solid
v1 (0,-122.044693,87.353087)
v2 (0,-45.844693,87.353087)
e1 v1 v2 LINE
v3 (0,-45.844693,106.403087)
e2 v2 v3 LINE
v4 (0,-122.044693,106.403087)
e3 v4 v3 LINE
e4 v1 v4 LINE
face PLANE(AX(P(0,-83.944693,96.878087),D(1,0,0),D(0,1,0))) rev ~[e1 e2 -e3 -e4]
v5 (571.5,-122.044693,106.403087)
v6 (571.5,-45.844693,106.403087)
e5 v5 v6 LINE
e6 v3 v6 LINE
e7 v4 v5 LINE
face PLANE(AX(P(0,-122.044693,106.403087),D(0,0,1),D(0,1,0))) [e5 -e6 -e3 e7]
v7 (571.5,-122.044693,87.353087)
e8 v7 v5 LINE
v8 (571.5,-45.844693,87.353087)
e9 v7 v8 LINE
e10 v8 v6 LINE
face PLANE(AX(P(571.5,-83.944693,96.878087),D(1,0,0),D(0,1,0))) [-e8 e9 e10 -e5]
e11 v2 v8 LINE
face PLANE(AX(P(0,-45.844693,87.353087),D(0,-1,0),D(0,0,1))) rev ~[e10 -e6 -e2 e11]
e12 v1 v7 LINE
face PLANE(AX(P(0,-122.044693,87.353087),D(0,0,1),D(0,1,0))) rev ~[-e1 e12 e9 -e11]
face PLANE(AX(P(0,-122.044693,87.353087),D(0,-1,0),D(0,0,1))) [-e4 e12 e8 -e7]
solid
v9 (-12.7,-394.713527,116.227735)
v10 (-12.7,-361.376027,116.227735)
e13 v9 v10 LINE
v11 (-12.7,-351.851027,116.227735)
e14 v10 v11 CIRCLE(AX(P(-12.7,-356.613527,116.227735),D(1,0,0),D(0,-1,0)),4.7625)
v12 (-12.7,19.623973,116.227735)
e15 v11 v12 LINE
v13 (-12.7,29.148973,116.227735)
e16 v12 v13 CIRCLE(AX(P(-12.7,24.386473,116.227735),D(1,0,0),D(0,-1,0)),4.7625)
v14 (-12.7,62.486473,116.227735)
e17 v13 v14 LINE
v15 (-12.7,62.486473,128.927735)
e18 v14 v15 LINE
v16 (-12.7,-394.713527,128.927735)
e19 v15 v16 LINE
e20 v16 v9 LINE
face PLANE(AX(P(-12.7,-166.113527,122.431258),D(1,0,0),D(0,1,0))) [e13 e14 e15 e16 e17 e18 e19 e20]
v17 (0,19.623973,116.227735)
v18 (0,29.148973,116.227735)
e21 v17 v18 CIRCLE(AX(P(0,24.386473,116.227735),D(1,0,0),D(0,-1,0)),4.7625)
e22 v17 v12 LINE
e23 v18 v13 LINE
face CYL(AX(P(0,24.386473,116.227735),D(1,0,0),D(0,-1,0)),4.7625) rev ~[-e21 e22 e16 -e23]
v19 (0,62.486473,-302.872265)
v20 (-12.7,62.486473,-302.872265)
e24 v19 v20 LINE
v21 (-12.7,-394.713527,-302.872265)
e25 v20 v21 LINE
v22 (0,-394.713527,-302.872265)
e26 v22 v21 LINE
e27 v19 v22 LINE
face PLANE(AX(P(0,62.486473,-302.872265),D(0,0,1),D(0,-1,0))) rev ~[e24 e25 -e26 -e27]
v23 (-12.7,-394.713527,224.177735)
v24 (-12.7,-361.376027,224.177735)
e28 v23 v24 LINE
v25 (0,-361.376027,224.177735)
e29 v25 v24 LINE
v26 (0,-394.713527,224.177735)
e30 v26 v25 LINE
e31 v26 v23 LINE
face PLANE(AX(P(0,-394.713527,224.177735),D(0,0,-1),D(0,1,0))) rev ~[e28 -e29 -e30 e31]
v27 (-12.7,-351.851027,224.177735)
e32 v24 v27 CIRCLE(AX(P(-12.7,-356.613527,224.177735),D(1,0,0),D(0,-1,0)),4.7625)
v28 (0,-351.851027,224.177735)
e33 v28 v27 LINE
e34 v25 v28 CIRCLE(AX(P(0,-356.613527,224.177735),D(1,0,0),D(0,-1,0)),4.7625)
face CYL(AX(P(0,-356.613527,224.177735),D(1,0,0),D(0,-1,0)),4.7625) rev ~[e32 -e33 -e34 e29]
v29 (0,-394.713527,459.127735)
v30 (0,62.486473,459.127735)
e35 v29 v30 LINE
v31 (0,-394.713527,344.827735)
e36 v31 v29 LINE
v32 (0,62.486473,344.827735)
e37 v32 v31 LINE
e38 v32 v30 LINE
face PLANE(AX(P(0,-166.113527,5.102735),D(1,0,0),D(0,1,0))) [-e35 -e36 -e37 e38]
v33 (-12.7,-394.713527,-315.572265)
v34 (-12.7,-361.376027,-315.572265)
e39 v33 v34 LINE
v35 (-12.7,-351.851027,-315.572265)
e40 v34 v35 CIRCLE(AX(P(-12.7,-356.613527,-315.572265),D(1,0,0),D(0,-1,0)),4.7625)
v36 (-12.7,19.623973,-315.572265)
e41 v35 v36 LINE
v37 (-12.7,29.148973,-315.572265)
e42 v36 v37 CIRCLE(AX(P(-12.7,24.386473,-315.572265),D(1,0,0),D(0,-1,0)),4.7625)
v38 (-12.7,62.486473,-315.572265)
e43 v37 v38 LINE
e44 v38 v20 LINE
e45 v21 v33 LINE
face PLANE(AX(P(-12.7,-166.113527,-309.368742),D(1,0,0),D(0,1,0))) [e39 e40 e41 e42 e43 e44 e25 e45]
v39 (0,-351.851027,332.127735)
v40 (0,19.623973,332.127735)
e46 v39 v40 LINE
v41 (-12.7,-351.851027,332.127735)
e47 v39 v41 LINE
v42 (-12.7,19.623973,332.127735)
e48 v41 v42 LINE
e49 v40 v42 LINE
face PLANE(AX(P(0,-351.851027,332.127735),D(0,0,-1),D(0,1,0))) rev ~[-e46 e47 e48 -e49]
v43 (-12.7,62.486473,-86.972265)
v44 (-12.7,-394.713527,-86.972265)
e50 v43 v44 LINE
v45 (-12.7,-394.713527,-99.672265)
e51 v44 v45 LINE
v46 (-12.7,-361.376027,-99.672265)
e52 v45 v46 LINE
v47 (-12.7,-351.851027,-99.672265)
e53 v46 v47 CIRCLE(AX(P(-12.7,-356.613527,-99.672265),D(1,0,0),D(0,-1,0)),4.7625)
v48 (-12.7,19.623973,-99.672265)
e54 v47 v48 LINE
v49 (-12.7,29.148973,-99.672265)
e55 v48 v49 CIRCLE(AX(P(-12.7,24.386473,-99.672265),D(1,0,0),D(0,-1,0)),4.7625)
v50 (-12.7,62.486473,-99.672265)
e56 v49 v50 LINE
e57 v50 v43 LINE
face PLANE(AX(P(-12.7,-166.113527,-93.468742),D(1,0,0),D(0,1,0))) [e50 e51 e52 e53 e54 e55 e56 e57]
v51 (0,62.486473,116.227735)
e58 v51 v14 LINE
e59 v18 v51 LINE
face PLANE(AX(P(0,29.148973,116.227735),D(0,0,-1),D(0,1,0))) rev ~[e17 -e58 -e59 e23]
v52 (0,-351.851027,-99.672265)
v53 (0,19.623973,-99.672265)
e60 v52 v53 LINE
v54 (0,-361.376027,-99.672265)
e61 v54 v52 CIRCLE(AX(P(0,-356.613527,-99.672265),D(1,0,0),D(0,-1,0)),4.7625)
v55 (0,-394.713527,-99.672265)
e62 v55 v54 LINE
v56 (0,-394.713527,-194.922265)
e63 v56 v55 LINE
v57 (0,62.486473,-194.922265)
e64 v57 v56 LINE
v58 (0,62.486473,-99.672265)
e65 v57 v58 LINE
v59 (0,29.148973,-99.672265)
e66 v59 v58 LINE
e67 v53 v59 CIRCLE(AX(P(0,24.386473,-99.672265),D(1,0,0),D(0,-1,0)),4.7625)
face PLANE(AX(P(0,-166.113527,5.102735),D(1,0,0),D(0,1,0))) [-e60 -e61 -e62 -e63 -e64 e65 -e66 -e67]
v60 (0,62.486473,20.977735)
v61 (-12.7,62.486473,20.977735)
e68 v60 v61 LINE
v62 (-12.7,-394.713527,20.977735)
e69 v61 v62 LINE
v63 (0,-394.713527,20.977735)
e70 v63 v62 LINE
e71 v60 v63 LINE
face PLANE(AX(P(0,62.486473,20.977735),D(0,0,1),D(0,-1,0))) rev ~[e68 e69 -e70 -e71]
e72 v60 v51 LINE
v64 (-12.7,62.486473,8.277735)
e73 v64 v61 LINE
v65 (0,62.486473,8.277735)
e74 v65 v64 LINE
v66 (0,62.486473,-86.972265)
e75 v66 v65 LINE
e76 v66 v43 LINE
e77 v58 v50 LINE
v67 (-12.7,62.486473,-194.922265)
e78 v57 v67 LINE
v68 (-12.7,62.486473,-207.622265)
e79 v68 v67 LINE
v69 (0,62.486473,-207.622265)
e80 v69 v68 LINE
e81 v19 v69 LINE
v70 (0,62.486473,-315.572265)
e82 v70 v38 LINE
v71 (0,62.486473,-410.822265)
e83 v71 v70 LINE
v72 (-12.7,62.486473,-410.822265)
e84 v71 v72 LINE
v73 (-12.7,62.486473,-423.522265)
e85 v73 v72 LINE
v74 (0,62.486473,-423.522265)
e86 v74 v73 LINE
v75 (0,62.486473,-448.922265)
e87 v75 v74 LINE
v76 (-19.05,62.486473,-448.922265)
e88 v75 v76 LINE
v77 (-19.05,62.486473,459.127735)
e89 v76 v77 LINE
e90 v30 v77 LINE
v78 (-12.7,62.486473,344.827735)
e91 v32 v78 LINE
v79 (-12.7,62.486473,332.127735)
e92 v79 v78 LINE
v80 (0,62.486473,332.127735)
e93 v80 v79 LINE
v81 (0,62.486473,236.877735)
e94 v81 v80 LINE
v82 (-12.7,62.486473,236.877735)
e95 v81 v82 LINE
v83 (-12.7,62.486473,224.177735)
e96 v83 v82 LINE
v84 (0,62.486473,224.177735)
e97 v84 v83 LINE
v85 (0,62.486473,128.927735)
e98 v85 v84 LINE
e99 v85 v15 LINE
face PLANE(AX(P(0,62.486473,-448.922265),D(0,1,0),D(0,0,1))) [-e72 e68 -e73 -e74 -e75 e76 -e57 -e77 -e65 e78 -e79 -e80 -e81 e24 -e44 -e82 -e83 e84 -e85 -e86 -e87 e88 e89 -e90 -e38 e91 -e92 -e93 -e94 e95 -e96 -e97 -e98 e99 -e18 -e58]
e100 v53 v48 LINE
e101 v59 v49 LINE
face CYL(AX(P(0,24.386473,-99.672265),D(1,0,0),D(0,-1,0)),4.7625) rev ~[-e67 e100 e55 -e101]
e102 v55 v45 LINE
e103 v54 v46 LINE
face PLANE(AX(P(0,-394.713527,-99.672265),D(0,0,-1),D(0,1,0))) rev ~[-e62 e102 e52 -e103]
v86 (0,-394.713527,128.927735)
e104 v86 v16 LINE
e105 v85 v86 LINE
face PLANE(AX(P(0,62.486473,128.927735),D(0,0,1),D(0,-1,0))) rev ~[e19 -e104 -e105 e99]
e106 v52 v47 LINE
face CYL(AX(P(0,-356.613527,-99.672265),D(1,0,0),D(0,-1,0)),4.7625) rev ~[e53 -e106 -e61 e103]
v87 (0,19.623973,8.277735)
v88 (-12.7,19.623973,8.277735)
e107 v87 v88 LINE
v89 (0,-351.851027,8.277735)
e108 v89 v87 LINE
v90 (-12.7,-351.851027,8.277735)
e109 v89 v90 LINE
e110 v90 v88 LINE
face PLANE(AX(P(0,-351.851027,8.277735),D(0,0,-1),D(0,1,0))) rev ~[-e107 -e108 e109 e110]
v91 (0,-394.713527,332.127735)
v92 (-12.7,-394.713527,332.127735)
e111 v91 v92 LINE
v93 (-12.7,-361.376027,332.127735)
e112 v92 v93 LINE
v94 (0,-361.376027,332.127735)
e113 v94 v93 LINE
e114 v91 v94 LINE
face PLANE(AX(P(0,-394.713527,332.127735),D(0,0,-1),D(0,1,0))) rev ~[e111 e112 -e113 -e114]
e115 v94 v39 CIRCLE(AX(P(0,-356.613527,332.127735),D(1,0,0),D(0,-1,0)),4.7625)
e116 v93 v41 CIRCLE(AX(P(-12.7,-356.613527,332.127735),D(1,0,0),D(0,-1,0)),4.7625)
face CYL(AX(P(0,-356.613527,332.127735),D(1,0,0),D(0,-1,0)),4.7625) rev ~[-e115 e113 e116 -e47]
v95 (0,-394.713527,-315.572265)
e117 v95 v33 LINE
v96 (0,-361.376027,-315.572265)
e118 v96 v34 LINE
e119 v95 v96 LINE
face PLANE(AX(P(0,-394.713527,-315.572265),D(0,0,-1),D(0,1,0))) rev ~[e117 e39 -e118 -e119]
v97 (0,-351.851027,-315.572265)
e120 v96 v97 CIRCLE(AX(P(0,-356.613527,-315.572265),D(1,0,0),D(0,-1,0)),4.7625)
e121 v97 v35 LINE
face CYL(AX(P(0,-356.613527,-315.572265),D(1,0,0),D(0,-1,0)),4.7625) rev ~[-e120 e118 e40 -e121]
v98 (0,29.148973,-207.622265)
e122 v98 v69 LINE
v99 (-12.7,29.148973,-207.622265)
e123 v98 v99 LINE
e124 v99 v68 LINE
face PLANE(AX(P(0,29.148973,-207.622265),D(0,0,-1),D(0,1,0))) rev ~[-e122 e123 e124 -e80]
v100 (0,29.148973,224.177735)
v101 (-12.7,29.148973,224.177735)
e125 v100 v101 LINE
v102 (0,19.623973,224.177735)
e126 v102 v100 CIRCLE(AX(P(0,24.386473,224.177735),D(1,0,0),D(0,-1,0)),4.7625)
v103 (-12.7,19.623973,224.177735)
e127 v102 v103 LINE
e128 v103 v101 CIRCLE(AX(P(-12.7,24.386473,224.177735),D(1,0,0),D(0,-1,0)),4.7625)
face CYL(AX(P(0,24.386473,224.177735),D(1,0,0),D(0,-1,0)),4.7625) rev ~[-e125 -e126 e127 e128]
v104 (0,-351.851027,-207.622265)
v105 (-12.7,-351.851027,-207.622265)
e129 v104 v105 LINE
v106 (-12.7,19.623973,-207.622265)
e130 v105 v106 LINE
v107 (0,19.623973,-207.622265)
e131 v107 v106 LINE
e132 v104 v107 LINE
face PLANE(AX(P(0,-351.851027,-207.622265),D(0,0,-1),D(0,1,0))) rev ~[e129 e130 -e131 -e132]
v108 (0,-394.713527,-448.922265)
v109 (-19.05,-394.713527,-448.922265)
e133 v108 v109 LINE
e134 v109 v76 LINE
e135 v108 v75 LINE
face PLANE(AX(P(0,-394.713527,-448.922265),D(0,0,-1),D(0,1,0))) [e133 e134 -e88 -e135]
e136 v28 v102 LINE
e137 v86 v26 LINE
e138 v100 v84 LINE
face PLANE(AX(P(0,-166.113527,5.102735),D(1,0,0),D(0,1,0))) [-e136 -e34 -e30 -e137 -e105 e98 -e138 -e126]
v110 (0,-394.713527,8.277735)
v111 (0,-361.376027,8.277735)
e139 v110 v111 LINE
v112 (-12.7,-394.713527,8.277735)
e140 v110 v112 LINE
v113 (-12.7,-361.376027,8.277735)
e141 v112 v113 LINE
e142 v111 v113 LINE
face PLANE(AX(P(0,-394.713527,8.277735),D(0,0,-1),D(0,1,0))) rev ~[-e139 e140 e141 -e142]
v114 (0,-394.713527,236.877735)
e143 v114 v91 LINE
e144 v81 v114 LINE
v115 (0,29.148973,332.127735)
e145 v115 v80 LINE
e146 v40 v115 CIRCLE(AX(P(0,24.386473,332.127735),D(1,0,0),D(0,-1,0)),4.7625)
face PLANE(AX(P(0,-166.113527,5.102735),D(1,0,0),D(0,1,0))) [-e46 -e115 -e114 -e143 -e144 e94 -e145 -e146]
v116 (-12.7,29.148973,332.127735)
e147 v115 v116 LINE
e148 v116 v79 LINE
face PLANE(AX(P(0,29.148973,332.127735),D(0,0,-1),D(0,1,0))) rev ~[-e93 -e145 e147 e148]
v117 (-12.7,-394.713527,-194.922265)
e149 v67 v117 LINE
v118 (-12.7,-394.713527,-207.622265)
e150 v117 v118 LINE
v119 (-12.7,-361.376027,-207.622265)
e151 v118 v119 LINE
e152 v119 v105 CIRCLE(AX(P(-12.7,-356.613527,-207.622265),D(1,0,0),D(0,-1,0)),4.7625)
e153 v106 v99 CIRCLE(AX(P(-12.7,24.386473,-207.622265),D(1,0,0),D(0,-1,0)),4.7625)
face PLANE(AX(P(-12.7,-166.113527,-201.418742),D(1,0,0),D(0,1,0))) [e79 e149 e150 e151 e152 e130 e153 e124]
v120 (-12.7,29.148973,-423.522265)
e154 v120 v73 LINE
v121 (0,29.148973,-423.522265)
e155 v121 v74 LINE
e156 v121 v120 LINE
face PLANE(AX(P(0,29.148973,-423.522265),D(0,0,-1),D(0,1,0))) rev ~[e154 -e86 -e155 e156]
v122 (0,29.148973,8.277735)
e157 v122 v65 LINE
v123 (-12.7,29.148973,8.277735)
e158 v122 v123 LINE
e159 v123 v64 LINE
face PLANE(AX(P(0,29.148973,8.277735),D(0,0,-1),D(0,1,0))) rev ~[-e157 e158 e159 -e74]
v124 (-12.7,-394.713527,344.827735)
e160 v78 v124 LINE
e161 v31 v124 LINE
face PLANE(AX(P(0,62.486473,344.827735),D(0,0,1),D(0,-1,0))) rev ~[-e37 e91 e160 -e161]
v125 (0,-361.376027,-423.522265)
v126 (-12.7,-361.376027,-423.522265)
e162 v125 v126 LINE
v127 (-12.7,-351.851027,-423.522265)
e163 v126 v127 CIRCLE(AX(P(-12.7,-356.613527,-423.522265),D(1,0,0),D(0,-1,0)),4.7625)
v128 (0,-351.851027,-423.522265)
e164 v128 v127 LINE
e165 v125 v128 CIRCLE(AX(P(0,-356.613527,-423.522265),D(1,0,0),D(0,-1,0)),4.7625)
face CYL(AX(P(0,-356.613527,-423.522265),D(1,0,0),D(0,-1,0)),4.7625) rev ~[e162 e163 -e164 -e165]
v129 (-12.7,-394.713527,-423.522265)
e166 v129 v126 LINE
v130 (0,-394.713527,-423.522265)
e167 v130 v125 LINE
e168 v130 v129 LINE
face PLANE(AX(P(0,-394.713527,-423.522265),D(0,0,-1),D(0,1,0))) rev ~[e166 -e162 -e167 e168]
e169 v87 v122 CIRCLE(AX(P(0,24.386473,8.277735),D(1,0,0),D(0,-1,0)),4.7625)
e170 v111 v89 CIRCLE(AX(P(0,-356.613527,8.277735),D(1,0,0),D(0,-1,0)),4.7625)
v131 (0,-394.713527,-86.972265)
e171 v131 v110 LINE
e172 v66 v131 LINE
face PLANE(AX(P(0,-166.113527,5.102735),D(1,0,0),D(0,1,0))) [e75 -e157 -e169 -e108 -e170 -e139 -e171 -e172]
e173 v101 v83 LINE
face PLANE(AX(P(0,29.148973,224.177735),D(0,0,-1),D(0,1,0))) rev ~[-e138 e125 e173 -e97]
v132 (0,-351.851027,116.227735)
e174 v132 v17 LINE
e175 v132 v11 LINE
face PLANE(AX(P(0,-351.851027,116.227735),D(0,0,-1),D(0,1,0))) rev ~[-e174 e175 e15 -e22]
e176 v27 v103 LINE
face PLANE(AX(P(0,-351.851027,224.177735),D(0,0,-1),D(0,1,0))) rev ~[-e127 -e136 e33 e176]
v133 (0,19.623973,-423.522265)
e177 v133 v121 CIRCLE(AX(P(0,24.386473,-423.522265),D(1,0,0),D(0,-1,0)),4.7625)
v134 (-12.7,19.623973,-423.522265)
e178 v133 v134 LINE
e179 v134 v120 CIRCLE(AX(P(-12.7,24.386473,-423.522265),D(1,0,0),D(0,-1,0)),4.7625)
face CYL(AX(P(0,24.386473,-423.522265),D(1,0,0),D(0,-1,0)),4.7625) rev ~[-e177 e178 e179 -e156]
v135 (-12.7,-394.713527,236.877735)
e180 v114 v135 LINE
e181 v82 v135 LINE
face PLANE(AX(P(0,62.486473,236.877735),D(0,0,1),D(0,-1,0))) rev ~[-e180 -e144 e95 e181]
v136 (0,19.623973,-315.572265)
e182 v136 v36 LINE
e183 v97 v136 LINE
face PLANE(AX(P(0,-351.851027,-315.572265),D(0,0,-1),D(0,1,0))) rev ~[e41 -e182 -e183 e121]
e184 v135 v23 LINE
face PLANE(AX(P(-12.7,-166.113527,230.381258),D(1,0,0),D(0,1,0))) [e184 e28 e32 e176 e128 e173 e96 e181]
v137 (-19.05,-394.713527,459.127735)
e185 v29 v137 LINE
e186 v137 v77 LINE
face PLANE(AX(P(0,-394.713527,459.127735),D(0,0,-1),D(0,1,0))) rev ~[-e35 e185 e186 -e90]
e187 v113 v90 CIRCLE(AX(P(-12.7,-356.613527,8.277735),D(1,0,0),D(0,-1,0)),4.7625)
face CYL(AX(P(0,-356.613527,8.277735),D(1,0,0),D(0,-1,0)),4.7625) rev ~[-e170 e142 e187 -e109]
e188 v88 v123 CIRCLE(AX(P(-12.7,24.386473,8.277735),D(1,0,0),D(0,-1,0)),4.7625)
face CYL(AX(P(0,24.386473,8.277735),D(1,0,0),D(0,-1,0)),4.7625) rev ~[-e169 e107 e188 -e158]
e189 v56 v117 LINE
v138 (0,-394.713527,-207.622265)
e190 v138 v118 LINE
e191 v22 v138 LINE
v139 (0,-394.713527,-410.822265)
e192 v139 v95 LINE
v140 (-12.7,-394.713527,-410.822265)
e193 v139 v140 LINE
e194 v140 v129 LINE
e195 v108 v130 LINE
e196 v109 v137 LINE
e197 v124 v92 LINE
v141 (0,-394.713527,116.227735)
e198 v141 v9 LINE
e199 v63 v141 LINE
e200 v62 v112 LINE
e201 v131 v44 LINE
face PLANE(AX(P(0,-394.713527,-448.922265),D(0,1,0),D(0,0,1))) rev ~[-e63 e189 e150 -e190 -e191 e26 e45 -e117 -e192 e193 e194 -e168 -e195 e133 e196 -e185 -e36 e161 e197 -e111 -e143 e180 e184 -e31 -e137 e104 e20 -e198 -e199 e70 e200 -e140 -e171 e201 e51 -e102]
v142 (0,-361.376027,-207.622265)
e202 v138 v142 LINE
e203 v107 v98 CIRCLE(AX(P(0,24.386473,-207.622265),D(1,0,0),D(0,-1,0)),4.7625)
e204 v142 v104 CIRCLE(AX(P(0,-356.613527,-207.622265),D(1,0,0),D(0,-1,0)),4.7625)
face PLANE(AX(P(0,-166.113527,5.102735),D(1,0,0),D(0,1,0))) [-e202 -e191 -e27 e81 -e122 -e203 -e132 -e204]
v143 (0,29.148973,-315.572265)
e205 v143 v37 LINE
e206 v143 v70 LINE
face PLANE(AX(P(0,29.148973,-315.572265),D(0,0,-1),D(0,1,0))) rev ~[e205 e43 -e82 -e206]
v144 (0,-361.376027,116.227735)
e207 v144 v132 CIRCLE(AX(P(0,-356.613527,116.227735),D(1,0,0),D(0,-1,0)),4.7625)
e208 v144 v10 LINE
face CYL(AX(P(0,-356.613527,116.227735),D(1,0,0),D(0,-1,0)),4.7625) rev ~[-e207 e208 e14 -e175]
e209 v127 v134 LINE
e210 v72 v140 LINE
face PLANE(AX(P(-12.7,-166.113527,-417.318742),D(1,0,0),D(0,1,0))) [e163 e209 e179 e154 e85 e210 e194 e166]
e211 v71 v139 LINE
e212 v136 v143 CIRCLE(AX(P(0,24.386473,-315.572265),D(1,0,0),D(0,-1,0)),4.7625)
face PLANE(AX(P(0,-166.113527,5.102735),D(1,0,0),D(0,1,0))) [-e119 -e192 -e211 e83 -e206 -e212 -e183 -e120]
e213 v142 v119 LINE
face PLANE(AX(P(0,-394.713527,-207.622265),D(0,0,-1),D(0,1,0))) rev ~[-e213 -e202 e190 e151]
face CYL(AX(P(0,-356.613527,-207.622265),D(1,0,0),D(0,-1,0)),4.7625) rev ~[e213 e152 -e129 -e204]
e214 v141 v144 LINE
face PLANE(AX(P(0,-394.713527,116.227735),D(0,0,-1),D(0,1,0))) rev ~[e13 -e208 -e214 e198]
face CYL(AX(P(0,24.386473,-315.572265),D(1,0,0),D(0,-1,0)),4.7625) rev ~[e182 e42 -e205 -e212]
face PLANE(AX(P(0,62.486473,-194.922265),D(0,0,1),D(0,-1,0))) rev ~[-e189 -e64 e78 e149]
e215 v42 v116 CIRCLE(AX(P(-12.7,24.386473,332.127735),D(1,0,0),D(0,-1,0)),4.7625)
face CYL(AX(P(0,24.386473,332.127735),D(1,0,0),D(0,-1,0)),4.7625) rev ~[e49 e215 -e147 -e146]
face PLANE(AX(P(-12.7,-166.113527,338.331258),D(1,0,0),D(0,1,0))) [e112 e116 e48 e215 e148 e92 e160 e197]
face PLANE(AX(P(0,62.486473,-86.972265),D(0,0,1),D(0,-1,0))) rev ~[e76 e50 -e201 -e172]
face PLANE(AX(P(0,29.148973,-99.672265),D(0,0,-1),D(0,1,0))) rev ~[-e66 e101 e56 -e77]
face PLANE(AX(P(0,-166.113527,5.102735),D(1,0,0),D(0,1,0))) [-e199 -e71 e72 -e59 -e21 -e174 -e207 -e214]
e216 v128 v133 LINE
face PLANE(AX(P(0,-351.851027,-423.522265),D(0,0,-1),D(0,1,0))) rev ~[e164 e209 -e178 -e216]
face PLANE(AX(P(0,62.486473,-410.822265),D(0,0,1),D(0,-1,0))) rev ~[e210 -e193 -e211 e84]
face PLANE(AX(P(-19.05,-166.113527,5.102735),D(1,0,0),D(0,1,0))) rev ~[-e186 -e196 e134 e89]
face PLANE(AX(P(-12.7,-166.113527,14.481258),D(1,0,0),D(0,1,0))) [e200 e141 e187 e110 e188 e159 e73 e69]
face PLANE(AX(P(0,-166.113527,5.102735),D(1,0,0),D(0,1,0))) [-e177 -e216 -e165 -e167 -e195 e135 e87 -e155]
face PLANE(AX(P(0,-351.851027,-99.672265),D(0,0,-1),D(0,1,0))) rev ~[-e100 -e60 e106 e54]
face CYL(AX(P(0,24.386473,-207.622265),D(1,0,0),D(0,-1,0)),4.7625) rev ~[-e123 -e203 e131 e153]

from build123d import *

# Parameters (mm, degrees)
F0_W     = 457.2
F0_H     = 908.05
F2_DEPTH = 19.05
F3_DEPTH = 12.7
F4_DEPTH = 12.7
F5_W     = 76.2
F5_H     = 19.05
F6_DEPTH = 571.5


with BuildPart() as f2:
    # F0 (on Right) → F2 (new body)
    with BuildSketch(Plane.YZ):
        with Locations((-166.1135266319, 5.1027350128)):
            Rectangle(F0_W, F0_H)
    extrude(amount=-F2_DEPTH)

    # F1 (on face) → F3 (cut)
    with BuildSketch(Plane.YZ):
        with BuildLine():
            Line((-394.7135266319, -410.8222649872), (-394.7135266319, -423.5222649872))
            Line((-394.7135266319, -423.5222649872), (-361.3760266319, -423.5222649872))
            ThreePointArc((-361.3760266319, -423.5222649872), (-356.6135266319, -428.2847649872), (-351.8510266319, -423.5222649872))
            Line((-351.8510266319, -423.5222649872), (19.6239733681, -423.5222649872))
            ThreePointArc((19.6239733681, -423.5222649872), (24.3864733681, -428.2847649872), (29.1489733681, -423.5222649872))
            Line((29.1489733681, -423.5222649872), (62.4864733681, -423.5222649872))
            Line((62.4864733681, -423.5222649872), (62.4864733681, -410.8222649872))
            Line((62.4864733681, -410.8222649872), (-394.7135266319, -410.8222649872))
        make_face()
    extrude(amount=-F3_DEPTH, mode=Mode.SUBTRACT)

    # F1 (on face) → F4 (cut)
    with BuildSketch(Plane.YZ):
        with BuildLine():
            Line((-394.7135266319, -302.8722649872), (-394.7135266319, -315.5722649872))
            Line((-394.7135266319, -315.5722649872), (-361.3760266319, -315.5722649872))
            ThreePointArc((-361.3760266319, -315.5722649872), (-356.6135266319, -320.3347649872), (-351.8510266319, -315.5722649872))
            Line((-351.8510266319, -315.5722649872), (19.6239733681, -315.5722649872))
            ThreePointArc((19.6239733681, -315.5722649872), (24.3864733681, -320.3347649872), (29.1489733681, -315.5722649872))
            Line((29.1489733681, -315.5722649872), (62.4864733681, -315.5722649872))
            Line((62.4864733681, -315.5722649872), (62.4864733681, -302.8722649872))
            Line((62.4864733681, -302.8722649872), (-394.7135266319, -302.8722649872))
        make_face()
        with BuildLine():
            Line((-394.7135266319, -194.9222649872), (-394.7135266319, -207.6222649872))
            Line((-394.7135266319, -207.6222649872), (-361.3760266319, -207.6222649872))
            ThreePointArc((-361.3760266319, -207.6222649872), (-356.6135266319, -212.3847649872), (-351.8510266319, -207.6222649872))
            Line((-351.8510266319, -207.6222649872), (19.6239733681, -207.6222649872))
            ThreePointArc((19.6239733681, -207.6222649872), (24.3864733681, -212.3847649872), (29.1489733681, -207.6222649872))
            Line((29.1489733681, -207.6222649872), (62.4864733681, -207.6222649872))
            Line((62.4864733681, -207.6222649872), (62.4864733681, -194.9222649872))
            Line((62.4864733681, -194.9222649872), (-394.7135266319, -194.9222649872))
        make_face()
        with BuildLine():
            Line((-394.7135266319, -86.9722649872), (-394.7135266319, -99.6722649872))
            Line((-394.7135266319, -99.6722649872), (-361.3760266319, -99.6722649872))
            ThreePointArc((-361.3760266319, -99.6722649872), (-356.6135266319, -104.4347649872), (-351.8510266319, -99.6722649872))
            Line((-351.8510266319, -99.6722649872), (19.6239733681, -99.6722649872))
            ThreePointArc((19.6239733681, -99.6722649872), (24.3864733681, -104.4347649872), (29.1489733681, -99.6722649872))
            Line((29.1489733681, -99.6722649872), (62.4864733681, -99.6722649872))
            Line((62.4864733681, -99.6722649872), (62.4864733681, -86.9722649872))
            Line((62.4864733681, -86.9722649872), (-394.7135266319, -86.9722649872))
        make_face()
        with BuildLine():
            Line((-394.7135266319, 20.9777350128), (-394.7135266319, 8.2777350128))
            Line((-394.7135266319, 8.2777350128), (-361.3760266319, 8.2777350128))
            ThreePointArc((-361.3760266319, 8.2777350128), (-356.6135266319, 3.5152350128), (-351.8510266319, 8.2777350128))
            Line((-351.8510266319, 8.2777350128), (19.6239733681, 8.2777350128))
            ThreePointArc((19.6239733681, 8.2777350128), (24.3864733681, 3.5152350128), (29.1489733681, 8.2777350128))
            Line((29.1489733681, 8.2777350128), (62.4864733681, 8.2777350128))
            Line((62.4864733681, 8.2777350128), (62.4864733681, 20.9777350128))
            Line((62.4864733681, 20.9777350128), (-394.7135266319, 20.9777350128))
        make_face()
        with BuildLine():
            Line((-394.7135266319, 128.9277350128), (-394.7135266319, 116.2277350128))
            Line((-394.7135266319, 116.2277350128), (-361.3760266319, 116.2277350128))
            ThreePointArc((-361.3760266319, 116.2277350128), (-356.6135266319, 111.4652350128), (-351.8510266319, 116.2277350128))
            Line((-351.8510266319, 116.2277350128), (19.6239733681, 116.2277350128))
            ThreePointArc((19.6239733681, 116.2277350128), (24.3864733681, 111.4652350128), (29.1489733681, 116.2277350128))
            Line((29.1489733681, 116.2277350128), (62.4864733681, 116.2277350128))
            Line((62.4864733681, 116.2277350128), (62.4864733681, 128.9277350128))
            Line((62.4864733681, 128.9277350128), (-394.7135266319, 128.9277350128))
        make_face()
        with BuildLine():
            Line((-394.7135266319, 236.8777350128), (-394.7135266319, 224.1777350128))
            Line((-394.7135266319, 224.1777350128), (-361.3760266319, 224.1777350128))
            ThreePointArc((-361.3760266319, 224.1777350128), (-356.6135266319, 219.4152350128), (-351.8510266319, 224.1777350128))
            Line((-351.8510266319, 224.1777350128), (19.6239733681, 224.1777350128))
            ThreePointArc((19.6239733681, 224.1777350128), (24.3864733681, 219.4152350128), (29.1489733681, 224.1777350128))
            Line((29.1489733681, 224.1777350128), (62.4864733681, 224.1777350128))
            Line((62.4864733681, 224.1777350128), (62.4864733681, 236.8777350128))
            Line((62.4864733681, 236.8777350128), (-394.7135266319, 236.8777350128))
        make_face()
        with BuildLine():
            Line((-394.7135266319, 344.8277350128), (-394.7135266319, 332.1277350128))
            Line((-394.7135266319, 332.1277350128), (-361.3760266319, 332.1277350128))
            ThreePointArc((-361.3760266319, 332.1277350128), (-356.6135266319, 327.3652350128), (-351.8510266319, 332.1277350128))
            Line((-351.8510266319, 332.1277350128), (19.6239733681, 332.1277350128))
            ThreePointArc((19.6239733681, 332.1277350128), (24.3864733681, 327.3652350128), (29.1489733681, 332.1277350128))
            Line((29.1489733681, 332.1277350128), (62.4864733681, 332.1277350128))
            Line((62.4864733681, 332.1277350128), (62.4864733681, 344.8277350128))
            Line((62.4864733681, 344.8277350128), (-394.7135266319, 344.8277350128))
        make_face()
    extrude(amount=-F4_DEPTH, mode=Mode.SUBTRACT)


with BuildPart() as f6:
    # F5 (on Right) → F6 (new body)
    with BuildSketch(Plane.YZ):
        with Locations((-83.9446932077, 96.8780869972)):
            Rectangle(F5_W, F5_H)
    extrude(amount=F6_DEPTH)


solid = Compound([f2.part, f6.part])
